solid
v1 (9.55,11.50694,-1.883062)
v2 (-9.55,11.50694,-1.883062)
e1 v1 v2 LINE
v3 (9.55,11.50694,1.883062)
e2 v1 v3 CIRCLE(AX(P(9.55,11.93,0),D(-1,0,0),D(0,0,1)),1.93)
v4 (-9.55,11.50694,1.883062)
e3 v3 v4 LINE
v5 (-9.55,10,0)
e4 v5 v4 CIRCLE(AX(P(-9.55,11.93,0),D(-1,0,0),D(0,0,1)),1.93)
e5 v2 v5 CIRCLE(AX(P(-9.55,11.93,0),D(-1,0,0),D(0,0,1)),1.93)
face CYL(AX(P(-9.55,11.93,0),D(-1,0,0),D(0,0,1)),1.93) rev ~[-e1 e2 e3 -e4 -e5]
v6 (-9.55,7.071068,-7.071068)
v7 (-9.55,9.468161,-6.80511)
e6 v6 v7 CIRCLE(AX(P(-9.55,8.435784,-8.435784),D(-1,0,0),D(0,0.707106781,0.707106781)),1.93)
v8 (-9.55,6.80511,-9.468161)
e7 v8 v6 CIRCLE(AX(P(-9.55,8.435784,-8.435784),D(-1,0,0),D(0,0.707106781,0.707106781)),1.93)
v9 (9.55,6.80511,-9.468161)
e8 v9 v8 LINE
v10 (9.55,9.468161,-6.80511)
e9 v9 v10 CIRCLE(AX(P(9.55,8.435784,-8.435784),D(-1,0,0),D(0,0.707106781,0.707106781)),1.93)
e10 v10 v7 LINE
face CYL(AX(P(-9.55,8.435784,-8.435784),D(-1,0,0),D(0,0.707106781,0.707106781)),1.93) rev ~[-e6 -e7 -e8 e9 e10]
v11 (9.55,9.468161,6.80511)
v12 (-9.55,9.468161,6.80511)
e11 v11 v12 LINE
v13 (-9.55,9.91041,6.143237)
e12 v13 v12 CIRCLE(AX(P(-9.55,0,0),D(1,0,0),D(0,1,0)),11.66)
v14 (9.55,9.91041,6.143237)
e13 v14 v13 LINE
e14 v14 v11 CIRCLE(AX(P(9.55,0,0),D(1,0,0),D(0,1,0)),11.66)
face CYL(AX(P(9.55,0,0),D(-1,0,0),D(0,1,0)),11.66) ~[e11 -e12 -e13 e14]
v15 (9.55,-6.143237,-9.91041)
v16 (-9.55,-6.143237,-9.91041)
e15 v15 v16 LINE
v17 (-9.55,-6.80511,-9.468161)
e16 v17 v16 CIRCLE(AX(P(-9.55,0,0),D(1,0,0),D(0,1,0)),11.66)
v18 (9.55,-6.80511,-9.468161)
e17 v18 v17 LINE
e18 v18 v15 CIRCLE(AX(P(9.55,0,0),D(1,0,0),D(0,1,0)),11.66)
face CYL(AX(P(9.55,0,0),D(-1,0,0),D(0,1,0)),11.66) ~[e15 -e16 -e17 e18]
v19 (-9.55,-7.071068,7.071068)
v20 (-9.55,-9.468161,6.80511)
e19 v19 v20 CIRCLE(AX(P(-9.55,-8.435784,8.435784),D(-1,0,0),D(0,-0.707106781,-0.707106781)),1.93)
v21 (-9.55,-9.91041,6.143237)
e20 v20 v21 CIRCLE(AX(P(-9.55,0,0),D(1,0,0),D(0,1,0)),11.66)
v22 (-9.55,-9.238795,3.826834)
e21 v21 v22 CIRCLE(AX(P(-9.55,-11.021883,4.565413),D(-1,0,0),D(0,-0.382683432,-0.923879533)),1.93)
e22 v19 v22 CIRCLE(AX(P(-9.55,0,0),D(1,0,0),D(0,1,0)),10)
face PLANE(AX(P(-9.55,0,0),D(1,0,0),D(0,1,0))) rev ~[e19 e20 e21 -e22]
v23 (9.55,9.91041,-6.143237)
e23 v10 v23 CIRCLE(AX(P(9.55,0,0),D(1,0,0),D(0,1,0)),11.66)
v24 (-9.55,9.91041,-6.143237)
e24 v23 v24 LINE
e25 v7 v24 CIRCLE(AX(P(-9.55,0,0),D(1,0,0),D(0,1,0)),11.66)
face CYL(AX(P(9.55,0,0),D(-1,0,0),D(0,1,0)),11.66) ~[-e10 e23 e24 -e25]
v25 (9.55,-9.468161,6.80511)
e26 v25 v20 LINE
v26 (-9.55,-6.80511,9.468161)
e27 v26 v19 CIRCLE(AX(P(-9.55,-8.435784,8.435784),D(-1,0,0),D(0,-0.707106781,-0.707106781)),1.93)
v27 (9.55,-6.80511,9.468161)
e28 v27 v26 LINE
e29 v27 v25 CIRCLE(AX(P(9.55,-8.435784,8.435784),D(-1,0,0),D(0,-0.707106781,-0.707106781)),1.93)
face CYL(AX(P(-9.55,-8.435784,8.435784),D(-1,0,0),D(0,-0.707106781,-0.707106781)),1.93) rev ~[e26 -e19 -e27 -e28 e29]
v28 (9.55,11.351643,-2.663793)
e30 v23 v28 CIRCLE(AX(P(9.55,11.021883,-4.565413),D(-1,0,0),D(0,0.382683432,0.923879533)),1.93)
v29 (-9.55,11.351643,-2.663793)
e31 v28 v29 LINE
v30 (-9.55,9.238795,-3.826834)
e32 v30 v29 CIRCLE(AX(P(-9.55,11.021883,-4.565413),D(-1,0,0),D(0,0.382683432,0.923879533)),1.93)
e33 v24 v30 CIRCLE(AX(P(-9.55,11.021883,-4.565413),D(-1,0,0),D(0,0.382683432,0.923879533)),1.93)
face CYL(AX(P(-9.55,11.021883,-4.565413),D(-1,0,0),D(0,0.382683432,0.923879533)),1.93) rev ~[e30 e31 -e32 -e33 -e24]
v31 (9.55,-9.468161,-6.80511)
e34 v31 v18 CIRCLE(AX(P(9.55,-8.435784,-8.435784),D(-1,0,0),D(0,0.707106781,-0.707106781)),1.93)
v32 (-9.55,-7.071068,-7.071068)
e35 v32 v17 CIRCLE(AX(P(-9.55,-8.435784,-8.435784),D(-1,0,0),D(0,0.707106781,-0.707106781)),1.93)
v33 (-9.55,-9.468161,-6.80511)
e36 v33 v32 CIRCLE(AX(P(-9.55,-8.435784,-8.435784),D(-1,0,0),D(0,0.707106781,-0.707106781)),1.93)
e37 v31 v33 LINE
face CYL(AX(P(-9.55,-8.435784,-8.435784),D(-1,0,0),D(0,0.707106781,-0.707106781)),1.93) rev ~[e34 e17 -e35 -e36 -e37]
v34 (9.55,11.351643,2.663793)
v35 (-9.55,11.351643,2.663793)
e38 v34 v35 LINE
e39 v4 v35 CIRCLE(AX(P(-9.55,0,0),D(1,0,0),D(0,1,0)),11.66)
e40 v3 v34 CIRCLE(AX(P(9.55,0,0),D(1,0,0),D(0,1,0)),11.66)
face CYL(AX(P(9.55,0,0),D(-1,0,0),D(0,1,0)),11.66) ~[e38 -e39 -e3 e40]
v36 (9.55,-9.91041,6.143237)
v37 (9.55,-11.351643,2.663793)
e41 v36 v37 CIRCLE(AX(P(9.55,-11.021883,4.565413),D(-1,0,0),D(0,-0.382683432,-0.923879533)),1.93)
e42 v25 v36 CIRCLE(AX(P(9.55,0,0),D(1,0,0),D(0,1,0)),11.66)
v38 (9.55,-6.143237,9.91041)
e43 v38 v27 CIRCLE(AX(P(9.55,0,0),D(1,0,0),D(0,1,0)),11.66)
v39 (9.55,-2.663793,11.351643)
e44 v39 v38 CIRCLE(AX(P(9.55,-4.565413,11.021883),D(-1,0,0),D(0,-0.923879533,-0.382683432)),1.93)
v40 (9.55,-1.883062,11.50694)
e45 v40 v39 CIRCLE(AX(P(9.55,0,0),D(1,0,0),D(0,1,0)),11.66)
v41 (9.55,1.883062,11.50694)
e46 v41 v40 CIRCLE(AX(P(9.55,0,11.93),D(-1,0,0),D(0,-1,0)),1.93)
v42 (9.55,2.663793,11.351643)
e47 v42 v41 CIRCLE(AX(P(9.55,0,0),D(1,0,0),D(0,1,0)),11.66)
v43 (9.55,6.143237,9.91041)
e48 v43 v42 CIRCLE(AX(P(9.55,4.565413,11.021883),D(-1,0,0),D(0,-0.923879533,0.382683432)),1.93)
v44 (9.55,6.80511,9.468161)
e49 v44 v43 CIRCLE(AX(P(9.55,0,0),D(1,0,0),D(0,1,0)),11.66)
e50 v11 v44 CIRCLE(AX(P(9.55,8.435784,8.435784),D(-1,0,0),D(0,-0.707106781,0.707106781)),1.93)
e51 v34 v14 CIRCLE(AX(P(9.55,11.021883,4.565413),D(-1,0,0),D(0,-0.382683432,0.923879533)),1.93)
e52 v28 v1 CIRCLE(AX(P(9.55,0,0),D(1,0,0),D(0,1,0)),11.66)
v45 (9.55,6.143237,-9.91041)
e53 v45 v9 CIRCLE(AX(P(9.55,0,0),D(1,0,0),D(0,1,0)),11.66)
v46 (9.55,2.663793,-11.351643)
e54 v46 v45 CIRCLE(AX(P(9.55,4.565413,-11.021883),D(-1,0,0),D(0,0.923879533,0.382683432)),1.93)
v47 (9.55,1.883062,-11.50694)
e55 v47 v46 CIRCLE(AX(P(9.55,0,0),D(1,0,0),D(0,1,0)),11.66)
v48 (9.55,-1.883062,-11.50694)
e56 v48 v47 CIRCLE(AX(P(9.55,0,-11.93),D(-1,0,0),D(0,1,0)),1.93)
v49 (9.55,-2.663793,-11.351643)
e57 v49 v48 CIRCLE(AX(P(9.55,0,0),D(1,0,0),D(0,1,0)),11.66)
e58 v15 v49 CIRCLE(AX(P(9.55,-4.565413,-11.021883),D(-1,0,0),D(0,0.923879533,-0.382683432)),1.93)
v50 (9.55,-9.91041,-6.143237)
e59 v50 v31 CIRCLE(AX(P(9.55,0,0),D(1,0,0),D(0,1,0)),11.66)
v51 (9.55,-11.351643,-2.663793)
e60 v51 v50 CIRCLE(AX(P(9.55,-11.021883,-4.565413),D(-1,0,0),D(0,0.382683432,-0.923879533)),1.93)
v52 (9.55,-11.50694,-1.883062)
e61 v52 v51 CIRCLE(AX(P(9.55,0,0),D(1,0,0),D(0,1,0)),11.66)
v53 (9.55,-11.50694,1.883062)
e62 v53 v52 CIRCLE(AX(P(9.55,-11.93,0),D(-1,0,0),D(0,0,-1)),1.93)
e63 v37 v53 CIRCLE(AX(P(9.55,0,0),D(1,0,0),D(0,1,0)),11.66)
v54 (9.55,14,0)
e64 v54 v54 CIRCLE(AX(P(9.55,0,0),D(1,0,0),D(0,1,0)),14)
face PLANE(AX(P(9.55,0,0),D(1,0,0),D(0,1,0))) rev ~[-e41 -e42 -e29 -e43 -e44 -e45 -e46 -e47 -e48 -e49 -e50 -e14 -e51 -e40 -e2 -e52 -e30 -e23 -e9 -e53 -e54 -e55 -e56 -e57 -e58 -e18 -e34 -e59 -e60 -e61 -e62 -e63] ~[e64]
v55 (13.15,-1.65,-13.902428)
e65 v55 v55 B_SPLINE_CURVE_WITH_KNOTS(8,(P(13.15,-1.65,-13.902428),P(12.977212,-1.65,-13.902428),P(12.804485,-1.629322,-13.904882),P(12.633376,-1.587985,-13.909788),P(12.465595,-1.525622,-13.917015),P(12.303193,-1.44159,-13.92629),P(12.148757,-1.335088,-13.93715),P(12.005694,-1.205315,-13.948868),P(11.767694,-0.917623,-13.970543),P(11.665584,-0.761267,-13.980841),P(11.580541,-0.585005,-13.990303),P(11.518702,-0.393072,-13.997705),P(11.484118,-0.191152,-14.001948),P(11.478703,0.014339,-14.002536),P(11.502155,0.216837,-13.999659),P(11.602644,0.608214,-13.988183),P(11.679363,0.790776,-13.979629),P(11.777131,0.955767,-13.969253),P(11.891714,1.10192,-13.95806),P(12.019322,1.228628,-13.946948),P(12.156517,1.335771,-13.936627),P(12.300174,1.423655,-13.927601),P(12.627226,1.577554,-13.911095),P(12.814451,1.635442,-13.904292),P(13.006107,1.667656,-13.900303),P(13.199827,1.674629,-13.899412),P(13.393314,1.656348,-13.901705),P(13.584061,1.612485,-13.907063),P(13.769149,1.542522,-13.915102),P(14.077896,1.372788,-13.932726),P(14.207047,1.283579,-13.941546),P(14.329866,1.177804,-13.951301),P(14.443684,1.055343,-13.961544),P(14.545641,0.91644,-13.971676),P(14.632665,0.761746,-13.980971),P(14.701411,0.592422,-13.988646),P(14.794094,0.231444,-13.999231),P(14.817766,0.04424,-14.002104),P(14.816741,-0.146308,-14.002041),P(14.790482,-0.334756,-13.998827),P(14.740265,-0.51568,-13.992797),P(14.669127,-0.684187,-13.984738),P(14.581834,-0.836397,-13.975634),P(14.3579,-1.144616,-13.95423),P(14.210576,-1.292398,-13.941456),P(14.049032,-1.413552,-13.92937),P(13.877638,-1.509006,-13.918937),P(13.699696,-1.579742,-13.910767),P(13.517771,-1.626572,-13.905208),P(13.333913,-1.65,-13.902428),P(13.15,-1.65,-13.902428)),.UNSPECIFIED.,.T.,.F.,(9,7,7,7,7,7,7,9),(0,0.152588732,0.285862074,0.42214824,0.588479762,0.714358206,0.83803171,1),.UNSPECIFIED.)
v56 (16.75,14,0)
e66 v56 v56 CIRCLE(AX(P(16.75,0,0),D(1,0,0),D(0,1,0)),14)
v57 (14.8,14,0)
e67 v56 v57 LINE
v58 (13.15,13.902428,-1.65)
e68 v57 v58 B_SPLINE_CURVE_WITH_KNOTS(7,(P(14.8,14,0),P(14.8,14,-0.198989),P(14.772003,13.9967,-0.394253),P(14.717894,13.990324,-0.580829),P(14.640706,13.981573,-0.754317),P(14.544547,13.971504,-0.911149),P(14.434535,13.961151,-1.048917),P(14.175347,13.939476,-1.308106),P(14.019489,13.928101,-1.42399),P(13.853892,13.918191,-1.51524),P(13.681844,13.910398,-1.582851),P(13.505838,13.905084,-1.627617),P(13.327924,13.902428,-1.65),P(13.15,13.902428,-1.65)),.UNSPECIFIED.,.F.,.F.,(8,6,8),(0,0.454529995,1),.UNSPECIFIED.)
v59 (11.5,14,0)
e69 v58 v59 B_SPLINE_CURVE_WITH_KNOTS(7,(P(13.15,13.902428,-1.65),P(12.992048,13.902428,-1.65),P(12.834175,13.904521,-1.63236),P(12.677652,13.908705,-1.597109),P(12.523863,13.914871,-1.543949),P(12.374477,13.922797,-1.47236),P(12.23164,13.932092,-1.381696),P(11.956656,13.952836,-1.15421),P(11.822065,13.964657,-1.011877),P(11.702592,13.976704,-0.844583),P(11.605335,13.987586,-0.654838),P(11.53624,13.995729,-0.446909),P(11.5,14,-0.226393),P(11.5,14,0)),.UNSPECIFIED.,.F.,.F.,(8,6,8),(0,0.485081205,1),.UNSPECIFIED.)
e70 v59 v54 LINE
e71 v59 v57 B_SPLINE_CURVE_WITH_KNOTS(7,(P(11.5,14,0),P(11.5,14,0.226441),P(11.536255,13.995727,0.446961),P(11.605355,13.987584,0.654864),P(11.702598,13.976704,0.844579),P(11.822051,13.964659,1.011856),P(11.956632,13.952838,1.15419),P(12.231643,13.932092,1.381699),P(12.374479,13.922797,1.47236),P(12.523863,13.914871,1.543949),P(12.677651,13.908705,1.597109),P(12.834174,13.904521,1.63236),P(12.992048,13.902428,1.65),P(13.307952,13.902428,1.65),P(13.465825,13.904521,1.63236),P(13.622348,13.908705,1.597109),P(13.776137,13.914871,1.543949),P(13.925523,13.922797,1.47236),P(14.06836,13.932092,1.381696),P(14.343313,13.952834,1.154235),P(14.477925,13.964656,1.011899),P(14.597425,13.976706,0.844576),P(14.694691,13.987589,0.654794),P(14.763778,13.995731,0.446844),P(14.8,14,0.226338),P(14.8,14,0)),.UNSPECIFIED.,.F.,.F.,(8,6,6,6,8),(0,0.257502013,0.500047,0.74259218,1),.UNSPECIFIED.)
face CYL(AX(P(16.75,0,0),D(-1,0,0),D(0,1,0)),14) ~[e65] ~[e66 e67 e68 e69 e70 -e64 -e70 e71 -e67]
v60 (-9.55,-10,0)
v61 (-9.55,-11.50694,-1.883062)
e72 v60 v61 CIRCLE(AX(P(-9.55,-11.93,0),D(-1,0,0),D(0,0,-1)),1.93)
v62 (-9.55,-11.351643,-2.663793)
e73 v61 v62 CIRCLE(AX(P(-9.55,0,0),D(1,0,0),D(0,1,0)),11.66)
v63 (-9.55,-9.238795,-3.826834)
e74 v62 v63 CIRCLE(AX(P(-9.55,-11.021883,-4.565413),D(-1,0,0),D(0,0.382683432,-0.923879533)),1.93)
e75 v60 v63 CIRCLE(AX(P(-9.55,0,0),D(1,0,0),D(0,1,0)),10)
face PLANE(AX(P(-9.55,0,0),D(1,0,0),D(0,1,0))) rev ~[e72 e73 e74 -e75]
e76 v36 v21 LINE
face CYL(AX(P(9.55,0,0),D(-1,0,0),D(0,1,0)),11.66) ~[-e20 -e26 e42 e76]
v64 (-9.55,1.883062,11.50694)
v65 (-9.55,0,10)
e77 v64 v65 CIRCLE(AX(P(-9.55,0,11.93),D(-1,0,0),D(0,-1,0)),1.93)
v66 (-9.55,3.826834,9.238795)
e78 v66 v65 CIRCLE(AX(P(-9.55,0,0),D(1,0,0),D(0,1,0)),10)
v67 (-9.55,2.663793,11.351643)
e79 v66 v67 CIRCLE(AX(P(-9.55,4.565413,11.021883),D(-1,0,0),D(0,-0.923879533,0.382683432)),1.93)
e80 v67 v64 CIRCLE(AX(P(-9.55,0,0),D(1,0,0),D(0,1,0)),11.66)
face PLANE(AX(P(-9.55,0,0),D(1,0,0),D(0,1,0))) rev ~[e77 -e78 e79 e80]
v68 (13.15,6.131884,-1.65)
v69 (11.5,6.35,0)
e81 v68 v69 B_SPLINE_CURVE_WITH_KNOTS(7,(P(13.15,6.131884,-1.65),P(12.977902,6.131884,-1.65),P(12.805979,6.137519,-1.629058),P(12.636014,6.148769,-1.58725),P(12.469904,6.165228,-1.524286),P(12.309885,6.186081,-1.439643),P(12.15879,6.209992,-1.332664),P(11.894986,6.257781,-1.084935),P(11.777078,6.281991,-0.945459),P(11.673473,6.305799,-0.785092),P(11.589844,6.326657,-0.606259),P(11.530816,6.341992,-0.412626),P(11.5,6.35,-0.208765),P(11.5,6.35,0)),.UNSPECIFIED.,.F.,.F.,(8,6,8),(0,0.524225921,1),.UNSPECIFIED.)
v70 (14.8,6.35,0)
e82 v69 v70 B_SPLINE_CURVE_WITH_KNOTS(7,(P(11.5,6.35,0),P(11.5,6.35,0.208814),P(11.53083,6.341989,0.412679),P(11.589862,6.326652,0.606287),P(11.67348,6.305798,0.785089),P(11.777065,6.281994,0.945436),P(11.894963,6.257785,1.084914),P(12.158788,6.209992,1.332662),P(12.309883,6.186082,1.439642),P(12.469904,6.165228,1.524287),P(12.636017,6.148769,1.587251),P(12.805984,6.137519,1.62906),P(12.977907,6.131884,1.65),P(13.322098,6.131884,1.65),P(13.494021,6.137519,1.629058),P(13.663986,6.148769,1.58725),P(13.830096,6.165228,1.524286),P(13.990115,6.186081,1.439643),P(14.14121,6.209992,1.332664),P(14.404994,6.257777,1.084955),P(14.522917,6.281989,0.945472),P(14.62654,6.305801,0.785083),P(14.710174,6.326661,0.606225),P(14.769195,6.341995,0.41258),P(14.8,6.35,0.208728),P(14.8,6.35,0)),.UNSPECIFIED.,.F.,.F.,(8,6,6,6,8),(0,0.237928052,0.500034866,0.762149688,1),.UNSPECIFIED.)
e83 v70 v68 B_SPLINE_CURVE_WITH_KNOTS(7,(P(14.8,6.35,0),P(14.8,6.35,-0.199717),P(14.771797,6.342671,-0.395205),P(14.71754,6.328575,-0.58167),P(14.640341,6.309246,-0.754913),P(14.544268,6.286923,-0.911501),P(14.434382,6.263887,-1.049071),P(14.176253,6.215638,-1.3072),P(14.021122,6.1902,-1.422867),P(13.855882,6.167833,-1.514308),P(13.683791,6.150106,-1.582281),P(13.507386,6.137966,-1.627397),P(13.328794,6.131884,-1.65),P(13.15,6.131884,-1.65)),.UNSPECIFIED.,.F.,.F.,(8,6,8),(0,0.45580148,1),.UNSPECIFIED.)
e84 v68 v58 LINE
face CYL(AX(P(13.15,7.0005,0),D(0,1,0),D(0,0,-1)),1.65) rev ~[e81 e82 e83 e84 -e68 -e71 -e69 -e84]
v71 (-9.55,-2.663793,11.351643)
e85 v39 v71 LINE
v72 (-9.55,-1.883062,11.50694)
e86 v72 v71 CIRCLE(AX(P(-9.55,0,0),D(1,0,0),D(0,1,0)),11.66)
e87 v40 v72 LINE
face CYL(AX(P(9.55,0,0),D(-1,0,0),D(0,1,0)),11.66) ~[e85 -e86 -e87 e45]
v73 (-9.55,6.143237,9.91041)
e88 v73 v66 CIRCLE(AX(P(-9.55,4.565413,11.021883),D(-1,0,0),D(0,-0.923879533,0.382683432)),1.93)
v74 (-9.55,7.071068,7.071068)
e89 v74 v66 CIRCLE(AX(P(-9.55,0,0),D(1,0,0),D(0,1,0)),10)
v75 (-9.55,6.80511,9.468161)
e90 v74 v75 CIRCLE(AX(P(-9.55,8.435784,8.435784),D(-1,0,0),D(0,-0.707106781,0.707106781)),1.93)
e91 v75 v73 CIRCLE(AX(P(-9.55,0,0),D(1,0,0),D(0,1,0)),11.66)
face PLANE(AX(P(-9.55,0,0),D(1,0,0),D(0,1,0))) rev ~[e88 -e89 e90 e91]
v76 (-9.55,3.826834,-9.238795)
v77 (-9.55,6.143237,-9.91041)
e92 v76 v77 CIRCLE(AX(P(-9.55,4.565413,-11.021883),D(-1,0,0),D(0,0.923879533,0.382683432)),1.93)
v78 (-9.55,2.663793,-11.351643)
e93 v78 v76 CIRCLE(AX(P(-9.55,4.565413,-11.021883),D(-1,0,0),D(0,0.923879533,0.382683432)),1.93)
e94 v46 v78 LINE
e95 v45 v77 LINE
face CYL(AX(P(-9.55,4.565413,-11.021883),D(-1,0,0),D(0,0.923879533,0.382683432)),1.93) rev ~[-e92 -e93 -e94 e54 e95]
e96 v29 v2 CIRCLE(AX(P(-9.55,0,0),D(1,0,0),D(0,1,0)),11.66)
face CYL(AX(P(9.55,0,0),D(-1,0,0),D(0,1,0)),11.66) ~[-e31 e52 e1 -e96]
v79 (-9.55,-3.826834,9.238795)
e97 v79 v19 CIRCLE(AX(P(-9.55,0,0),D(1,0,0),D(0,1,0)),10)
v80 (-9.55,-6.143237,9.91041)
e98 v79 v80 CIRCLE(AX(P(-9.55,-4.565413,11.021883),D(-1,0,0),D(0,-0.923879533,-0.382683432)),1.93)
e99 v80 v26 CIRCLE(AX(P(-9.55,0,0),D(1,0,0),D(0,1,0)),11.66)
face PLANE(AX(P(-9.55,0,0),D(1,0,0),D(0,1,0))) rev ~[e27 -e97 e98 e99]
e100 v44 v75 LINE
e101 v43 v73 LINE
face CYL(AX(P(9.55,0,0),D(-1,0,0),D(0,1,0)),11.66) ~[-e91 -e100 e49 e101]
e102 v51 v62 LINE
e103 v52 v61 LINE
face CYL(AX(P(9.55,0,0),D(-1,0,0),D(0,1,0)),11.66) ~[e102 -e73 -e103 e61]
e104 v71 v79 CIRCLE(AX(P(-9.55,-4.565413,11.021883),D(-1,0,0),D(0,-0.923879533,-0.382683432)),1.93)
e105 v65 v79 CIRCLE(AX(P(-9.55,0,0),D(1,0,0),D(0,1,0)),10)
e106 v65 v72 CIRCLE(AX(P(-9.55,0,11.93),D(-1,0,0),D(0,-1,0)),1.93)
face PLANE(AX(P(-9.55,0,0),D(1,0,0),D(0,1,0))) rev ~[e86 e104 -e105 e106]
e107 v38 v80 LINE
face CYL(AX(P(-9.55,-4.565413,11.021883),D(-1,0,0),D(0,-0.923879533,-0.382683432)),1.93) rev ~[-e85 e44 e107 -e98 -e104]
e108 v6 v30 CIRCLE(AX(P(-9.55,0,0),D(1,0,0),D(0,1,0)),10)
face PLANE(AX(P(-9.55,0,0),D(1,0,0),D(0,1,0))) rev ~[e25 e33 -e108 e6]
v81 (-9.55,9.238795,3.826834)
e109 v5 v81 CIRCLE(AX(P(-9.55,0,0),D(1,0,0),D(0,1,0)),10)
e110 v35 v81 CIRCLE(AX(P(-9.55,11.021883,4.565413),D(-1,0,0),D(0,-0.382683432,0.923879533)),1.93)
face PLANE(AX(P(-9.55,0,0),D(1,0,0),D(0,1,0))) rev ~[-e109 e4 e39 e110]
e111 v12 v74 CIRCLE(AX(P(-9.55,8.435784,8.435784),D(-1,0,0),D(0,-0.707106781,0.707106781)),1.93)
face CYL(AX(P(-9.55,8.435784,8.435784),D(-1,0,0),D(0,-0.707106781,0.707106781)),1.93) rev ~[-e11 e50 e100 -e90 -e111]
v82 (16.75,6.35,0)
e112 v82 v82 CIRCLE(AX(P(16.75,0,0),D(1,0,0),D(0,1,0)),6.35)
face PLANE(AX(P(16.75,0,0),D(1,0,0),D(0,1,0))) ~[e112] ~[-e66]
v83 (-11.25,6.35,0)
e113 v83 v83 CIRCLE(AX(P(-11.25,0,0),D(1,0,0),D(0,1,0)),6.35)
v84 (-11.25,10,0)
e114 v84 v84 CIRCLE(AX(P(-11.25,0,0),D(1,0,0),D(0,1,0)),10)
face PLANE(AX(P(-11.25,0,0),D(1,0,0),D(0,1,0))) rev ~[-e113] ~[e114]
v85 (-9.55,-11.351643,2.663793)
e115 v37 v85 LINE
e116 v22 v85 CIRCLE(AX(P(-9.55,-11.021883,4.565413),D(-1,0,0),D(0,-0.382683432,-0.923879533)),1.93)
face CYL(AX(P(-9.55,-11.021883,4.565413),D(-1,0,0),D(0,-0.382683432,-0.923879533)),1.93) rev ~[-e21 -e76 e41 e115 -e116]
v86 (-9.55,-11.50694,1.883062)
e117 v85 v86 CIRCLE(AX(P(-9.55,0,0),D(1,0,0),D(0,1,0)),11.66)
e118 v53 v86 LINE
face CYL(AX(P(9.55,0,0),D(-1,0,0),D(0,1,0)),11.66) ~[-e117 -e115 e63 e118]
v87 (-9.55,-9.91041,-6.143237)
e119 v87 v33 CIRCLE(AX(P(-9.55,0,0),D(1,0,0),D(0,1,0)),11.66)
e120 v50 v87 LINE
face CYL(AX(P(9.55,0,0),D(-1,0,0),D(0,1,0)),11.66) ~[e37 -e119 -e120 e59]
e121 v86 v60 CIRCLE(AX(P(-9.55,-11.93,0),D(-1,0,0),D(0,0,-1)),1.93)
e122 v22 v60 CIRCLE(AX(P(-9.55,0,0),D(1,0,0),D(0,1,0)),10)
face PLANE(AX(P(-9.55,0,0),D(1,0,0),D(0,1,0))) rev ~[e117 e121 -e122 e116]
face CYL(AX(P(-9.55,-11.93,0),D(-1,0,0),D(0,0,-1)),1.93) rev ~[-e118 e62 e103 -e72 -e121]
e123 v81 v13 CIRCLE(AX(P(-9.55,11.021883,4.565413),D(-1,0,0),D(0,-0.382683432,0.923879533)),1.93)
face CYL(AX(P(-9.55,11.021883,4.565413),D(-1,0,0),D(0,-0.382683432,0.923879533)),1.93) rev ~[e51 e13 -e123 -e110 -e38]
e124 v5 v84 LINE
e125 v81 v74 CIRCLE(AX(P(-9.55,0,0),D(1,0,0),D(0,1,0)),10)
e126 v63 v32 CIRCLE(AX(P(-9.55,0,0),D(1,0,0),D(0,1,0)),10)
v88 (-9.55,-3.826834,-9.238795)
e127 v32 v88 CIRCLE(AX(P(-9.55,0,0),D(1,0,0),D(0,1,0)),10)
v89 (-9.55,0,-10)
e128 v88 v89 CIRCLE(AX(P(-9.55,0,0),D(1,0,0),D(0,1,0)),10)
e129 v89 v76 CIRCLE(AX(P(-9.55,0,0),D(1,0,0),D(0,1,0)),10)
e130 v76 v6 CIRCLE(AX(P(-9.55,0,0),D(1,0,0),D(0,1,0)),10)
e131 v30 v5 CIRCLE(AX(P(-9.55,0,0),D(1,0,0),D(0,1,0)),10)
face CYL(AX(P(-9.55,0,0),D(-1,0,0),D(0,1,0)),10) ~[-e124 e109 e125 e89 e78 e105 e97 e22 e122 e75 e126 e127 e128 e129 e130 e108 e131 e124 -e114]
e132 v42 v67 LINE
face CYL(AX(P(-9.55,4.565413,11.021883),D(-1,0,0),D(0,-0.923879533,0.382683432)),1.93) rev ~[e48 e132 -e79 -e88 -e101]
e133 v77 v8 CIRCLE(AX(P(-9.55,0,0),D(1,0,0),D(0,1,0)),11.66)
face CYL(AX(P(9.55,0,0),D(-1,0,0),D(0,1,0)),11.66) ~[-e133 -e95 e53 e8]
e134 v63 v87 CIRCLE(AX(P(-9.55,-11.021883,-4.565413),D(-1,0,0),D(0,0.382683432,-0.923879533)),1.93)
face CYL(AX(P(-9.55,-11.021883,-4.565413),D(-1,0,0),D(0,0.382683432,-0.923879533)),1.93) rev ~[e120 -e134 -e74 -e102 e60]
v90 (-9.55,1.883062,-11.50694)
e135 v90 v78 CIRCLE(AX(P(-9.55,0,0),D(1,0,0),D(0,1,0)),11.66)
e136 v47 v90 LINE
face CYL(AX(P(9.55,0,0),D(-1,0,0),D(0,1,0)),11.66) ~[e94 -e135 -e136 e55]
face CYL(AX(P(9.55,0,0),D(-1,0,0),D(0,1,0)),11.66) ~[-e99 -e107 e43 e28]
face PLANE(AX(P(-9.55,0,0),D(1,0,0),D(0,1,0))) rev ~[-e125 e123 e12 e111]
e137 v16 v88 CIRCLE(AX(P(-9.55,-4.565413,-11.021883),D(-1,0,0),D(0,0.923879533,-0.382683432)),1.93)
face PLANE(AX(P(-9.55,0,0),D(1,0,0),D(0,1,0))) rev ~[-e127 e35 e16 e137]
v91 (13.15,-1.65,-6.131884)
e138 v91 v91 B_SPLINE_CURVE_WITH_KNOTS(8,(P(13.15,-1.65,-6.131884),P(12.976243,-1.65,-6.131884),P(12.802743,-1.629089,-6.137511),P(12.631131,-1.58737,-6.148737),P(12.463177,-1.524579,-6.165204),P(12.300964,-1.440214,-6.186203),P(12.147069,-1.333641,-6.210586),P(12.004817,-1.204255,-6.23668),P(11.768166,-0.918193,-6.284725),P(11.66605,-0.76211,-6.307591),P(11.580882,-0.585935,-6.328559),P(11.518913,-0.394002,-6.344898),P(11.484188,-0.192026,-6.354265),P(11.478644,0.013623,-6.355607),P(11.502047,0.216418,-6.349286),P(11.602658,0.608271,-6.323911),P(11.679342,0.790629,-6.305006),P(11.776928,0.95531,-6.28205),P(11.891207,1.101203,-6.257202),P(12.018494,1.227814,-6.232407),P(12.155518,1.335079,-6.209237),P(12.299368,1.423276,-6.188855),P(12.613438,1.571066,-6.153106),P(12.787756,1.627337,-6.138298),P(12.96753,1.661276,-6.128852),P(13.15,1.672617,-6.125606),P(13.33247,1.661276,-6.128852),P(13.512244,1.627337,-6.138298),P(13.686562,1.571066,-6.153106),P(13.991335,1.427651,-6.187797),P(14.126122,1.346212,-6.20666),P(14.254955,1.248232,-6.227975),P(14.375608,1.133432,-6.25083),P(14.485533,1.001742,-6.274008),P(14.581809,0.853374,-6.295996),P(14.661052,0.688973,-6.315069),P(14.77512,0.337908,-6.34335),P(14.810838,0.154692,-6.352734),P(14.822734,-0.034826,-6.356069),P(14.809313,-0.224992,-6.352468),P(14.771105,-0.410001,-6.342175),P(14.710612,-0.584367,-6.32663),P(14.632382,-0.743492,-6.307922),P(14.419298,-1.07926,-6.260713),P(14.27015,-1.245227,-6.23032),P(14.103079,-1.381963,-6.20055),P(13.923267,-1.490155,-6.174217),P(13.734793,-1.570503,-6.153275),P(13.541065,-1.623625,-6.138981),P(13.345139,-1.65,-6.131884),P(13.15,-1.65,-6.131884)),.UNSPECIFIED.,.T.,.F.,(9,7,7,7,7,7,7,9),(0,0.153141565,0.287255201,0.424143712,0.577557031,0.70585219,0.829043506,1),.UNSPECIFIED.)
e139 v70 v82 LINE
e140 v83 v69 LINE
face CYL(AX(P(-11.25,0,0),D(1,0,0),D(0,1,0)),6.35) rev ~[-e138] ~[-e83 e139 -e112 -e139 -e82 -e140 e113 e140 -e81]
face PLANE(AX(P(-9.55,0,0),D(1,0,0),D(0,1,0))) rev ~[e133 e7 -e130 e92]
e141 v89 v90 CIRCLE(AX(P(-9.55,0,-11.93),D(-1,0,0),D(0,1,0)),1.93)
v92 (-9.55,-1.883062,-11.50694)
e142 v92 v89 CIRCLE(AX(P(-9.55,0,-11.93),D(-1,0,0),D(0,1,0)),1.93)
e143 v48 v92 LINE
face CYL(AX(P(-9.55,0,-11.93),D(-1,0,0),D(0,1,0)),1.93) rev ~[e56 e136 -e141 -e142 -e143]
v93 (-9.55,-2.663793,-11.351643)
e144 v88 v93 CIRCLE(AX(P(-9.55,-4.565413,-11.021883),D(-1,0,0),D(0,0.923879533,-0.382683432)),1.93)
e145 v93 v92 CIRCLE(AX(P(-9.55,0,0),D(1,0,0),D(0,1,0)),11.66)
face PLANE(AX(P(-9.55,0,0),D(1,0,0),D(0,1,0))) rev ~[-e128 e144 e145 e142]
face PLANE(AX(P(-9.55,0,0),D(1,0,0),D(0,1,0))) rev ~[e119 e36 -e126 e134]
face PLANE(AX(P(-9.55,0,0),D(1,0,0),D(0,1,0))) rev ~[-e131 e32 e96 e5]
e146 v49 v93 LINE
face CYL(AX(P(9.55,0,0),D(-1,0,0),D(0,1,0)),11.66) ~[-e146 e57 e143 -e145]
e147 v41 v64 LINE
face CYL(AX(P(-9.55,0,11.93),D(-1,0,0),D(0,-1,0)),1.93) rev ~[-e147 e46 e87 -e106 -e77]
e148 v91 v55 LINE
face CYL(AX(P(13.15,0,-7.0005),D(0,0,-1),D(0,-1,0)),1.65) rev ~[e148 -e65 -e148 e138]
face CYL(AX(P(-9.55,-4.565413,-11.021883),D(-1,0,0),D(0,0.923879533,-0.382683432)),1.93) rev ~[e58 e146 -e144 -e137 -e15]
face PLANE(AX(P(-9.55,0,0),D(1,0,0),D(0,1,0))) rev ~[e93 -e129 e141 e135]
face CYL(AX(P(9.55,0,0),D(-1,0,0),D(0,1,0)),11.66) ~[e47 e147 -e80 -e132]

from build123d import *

# Parameters (mm, degrees)
SKETCH2_R          = 1.93
CUT_EXTRUDE1_DEPTH = 19.1
CIRPATTERN1_COUNT  = 16
SKETCH3_W          = 1.65
SKETCH3_H          = 14.001
CIRPATTERN2_COUNT  = 2
CIRPATTERN2_ANGLE  = 90


with BuildPart() as part:
    # Sketch1 → Revolve1 (revolve)
    with BuildSketch(Plane.XY):
        Polygon((-11.25, 6.35), (16.75, 6.35), (16.75, 14), (9.55, 14), (9.55, 11.66), (-9.55, 11.66), (-9.55, 10), (-11.25, 10), align=None)
    revolve(axis=Axis((0, 0, 0), (1, 0, 0)))

    # Sketch2 → Cut-Extrude1 (cut)
    with BuildSketch(Plane.ZY.offset(9.55)):
        with Locations((0, 11.93)):
            Circle(SKETCH2_R)
    cut_extrude1 = extrude(amount=-CUT_EXTRUDE1_DEPTH, mode=Mode.SUBTRACT)

    # CirPattern1: Cut-Extrude1 ×16 about axis
    cirpattern1_axis = Axis((0, 0, 0), (1, 0, 0))
    for i in range(1, CIRPATTERN1_COUNT):
        add(cut_extrude1.rotate(cirpattern1_axis, i * 360 / CIRPATTERN1_COUNT), mode=Mode.SUBTRACT)

    # Sketch3 → M4x0.7 Tapped Hole1 (revolve, cut)
    with BuildSketch(Plane(origin=(13.15, 0, 0), x_dir=(0, 0, -1), z_dir=(1, 0, 0))):
        with Locations((0.825, 7.0005)):
            Rectangle(SKETCH3_W, SKETCH3_H)
    m4x0_7_tapped_hole1 = revolve(axis=Axis((13.15, -6.35, 0), (0, 1, 0)), mode=Mode.SUBTRACT)

    # CirPattern2: M4x0.7 Tapped Hole1 ×2 about axis
    cirpattern2_axis = Axis((0, 0, 0), (-1, 0, 0))
    for i in range(1, CIRPATTERN2_COUNT):
        add(m4x0_7_tapped_hole1.rotate(cirpattern2_axis, i * CIRPATTERN2_ANGLE / (CIRPATTERN2_COUNT - 1)), mode=Mode.SUBTRACT)


solid = part.part
